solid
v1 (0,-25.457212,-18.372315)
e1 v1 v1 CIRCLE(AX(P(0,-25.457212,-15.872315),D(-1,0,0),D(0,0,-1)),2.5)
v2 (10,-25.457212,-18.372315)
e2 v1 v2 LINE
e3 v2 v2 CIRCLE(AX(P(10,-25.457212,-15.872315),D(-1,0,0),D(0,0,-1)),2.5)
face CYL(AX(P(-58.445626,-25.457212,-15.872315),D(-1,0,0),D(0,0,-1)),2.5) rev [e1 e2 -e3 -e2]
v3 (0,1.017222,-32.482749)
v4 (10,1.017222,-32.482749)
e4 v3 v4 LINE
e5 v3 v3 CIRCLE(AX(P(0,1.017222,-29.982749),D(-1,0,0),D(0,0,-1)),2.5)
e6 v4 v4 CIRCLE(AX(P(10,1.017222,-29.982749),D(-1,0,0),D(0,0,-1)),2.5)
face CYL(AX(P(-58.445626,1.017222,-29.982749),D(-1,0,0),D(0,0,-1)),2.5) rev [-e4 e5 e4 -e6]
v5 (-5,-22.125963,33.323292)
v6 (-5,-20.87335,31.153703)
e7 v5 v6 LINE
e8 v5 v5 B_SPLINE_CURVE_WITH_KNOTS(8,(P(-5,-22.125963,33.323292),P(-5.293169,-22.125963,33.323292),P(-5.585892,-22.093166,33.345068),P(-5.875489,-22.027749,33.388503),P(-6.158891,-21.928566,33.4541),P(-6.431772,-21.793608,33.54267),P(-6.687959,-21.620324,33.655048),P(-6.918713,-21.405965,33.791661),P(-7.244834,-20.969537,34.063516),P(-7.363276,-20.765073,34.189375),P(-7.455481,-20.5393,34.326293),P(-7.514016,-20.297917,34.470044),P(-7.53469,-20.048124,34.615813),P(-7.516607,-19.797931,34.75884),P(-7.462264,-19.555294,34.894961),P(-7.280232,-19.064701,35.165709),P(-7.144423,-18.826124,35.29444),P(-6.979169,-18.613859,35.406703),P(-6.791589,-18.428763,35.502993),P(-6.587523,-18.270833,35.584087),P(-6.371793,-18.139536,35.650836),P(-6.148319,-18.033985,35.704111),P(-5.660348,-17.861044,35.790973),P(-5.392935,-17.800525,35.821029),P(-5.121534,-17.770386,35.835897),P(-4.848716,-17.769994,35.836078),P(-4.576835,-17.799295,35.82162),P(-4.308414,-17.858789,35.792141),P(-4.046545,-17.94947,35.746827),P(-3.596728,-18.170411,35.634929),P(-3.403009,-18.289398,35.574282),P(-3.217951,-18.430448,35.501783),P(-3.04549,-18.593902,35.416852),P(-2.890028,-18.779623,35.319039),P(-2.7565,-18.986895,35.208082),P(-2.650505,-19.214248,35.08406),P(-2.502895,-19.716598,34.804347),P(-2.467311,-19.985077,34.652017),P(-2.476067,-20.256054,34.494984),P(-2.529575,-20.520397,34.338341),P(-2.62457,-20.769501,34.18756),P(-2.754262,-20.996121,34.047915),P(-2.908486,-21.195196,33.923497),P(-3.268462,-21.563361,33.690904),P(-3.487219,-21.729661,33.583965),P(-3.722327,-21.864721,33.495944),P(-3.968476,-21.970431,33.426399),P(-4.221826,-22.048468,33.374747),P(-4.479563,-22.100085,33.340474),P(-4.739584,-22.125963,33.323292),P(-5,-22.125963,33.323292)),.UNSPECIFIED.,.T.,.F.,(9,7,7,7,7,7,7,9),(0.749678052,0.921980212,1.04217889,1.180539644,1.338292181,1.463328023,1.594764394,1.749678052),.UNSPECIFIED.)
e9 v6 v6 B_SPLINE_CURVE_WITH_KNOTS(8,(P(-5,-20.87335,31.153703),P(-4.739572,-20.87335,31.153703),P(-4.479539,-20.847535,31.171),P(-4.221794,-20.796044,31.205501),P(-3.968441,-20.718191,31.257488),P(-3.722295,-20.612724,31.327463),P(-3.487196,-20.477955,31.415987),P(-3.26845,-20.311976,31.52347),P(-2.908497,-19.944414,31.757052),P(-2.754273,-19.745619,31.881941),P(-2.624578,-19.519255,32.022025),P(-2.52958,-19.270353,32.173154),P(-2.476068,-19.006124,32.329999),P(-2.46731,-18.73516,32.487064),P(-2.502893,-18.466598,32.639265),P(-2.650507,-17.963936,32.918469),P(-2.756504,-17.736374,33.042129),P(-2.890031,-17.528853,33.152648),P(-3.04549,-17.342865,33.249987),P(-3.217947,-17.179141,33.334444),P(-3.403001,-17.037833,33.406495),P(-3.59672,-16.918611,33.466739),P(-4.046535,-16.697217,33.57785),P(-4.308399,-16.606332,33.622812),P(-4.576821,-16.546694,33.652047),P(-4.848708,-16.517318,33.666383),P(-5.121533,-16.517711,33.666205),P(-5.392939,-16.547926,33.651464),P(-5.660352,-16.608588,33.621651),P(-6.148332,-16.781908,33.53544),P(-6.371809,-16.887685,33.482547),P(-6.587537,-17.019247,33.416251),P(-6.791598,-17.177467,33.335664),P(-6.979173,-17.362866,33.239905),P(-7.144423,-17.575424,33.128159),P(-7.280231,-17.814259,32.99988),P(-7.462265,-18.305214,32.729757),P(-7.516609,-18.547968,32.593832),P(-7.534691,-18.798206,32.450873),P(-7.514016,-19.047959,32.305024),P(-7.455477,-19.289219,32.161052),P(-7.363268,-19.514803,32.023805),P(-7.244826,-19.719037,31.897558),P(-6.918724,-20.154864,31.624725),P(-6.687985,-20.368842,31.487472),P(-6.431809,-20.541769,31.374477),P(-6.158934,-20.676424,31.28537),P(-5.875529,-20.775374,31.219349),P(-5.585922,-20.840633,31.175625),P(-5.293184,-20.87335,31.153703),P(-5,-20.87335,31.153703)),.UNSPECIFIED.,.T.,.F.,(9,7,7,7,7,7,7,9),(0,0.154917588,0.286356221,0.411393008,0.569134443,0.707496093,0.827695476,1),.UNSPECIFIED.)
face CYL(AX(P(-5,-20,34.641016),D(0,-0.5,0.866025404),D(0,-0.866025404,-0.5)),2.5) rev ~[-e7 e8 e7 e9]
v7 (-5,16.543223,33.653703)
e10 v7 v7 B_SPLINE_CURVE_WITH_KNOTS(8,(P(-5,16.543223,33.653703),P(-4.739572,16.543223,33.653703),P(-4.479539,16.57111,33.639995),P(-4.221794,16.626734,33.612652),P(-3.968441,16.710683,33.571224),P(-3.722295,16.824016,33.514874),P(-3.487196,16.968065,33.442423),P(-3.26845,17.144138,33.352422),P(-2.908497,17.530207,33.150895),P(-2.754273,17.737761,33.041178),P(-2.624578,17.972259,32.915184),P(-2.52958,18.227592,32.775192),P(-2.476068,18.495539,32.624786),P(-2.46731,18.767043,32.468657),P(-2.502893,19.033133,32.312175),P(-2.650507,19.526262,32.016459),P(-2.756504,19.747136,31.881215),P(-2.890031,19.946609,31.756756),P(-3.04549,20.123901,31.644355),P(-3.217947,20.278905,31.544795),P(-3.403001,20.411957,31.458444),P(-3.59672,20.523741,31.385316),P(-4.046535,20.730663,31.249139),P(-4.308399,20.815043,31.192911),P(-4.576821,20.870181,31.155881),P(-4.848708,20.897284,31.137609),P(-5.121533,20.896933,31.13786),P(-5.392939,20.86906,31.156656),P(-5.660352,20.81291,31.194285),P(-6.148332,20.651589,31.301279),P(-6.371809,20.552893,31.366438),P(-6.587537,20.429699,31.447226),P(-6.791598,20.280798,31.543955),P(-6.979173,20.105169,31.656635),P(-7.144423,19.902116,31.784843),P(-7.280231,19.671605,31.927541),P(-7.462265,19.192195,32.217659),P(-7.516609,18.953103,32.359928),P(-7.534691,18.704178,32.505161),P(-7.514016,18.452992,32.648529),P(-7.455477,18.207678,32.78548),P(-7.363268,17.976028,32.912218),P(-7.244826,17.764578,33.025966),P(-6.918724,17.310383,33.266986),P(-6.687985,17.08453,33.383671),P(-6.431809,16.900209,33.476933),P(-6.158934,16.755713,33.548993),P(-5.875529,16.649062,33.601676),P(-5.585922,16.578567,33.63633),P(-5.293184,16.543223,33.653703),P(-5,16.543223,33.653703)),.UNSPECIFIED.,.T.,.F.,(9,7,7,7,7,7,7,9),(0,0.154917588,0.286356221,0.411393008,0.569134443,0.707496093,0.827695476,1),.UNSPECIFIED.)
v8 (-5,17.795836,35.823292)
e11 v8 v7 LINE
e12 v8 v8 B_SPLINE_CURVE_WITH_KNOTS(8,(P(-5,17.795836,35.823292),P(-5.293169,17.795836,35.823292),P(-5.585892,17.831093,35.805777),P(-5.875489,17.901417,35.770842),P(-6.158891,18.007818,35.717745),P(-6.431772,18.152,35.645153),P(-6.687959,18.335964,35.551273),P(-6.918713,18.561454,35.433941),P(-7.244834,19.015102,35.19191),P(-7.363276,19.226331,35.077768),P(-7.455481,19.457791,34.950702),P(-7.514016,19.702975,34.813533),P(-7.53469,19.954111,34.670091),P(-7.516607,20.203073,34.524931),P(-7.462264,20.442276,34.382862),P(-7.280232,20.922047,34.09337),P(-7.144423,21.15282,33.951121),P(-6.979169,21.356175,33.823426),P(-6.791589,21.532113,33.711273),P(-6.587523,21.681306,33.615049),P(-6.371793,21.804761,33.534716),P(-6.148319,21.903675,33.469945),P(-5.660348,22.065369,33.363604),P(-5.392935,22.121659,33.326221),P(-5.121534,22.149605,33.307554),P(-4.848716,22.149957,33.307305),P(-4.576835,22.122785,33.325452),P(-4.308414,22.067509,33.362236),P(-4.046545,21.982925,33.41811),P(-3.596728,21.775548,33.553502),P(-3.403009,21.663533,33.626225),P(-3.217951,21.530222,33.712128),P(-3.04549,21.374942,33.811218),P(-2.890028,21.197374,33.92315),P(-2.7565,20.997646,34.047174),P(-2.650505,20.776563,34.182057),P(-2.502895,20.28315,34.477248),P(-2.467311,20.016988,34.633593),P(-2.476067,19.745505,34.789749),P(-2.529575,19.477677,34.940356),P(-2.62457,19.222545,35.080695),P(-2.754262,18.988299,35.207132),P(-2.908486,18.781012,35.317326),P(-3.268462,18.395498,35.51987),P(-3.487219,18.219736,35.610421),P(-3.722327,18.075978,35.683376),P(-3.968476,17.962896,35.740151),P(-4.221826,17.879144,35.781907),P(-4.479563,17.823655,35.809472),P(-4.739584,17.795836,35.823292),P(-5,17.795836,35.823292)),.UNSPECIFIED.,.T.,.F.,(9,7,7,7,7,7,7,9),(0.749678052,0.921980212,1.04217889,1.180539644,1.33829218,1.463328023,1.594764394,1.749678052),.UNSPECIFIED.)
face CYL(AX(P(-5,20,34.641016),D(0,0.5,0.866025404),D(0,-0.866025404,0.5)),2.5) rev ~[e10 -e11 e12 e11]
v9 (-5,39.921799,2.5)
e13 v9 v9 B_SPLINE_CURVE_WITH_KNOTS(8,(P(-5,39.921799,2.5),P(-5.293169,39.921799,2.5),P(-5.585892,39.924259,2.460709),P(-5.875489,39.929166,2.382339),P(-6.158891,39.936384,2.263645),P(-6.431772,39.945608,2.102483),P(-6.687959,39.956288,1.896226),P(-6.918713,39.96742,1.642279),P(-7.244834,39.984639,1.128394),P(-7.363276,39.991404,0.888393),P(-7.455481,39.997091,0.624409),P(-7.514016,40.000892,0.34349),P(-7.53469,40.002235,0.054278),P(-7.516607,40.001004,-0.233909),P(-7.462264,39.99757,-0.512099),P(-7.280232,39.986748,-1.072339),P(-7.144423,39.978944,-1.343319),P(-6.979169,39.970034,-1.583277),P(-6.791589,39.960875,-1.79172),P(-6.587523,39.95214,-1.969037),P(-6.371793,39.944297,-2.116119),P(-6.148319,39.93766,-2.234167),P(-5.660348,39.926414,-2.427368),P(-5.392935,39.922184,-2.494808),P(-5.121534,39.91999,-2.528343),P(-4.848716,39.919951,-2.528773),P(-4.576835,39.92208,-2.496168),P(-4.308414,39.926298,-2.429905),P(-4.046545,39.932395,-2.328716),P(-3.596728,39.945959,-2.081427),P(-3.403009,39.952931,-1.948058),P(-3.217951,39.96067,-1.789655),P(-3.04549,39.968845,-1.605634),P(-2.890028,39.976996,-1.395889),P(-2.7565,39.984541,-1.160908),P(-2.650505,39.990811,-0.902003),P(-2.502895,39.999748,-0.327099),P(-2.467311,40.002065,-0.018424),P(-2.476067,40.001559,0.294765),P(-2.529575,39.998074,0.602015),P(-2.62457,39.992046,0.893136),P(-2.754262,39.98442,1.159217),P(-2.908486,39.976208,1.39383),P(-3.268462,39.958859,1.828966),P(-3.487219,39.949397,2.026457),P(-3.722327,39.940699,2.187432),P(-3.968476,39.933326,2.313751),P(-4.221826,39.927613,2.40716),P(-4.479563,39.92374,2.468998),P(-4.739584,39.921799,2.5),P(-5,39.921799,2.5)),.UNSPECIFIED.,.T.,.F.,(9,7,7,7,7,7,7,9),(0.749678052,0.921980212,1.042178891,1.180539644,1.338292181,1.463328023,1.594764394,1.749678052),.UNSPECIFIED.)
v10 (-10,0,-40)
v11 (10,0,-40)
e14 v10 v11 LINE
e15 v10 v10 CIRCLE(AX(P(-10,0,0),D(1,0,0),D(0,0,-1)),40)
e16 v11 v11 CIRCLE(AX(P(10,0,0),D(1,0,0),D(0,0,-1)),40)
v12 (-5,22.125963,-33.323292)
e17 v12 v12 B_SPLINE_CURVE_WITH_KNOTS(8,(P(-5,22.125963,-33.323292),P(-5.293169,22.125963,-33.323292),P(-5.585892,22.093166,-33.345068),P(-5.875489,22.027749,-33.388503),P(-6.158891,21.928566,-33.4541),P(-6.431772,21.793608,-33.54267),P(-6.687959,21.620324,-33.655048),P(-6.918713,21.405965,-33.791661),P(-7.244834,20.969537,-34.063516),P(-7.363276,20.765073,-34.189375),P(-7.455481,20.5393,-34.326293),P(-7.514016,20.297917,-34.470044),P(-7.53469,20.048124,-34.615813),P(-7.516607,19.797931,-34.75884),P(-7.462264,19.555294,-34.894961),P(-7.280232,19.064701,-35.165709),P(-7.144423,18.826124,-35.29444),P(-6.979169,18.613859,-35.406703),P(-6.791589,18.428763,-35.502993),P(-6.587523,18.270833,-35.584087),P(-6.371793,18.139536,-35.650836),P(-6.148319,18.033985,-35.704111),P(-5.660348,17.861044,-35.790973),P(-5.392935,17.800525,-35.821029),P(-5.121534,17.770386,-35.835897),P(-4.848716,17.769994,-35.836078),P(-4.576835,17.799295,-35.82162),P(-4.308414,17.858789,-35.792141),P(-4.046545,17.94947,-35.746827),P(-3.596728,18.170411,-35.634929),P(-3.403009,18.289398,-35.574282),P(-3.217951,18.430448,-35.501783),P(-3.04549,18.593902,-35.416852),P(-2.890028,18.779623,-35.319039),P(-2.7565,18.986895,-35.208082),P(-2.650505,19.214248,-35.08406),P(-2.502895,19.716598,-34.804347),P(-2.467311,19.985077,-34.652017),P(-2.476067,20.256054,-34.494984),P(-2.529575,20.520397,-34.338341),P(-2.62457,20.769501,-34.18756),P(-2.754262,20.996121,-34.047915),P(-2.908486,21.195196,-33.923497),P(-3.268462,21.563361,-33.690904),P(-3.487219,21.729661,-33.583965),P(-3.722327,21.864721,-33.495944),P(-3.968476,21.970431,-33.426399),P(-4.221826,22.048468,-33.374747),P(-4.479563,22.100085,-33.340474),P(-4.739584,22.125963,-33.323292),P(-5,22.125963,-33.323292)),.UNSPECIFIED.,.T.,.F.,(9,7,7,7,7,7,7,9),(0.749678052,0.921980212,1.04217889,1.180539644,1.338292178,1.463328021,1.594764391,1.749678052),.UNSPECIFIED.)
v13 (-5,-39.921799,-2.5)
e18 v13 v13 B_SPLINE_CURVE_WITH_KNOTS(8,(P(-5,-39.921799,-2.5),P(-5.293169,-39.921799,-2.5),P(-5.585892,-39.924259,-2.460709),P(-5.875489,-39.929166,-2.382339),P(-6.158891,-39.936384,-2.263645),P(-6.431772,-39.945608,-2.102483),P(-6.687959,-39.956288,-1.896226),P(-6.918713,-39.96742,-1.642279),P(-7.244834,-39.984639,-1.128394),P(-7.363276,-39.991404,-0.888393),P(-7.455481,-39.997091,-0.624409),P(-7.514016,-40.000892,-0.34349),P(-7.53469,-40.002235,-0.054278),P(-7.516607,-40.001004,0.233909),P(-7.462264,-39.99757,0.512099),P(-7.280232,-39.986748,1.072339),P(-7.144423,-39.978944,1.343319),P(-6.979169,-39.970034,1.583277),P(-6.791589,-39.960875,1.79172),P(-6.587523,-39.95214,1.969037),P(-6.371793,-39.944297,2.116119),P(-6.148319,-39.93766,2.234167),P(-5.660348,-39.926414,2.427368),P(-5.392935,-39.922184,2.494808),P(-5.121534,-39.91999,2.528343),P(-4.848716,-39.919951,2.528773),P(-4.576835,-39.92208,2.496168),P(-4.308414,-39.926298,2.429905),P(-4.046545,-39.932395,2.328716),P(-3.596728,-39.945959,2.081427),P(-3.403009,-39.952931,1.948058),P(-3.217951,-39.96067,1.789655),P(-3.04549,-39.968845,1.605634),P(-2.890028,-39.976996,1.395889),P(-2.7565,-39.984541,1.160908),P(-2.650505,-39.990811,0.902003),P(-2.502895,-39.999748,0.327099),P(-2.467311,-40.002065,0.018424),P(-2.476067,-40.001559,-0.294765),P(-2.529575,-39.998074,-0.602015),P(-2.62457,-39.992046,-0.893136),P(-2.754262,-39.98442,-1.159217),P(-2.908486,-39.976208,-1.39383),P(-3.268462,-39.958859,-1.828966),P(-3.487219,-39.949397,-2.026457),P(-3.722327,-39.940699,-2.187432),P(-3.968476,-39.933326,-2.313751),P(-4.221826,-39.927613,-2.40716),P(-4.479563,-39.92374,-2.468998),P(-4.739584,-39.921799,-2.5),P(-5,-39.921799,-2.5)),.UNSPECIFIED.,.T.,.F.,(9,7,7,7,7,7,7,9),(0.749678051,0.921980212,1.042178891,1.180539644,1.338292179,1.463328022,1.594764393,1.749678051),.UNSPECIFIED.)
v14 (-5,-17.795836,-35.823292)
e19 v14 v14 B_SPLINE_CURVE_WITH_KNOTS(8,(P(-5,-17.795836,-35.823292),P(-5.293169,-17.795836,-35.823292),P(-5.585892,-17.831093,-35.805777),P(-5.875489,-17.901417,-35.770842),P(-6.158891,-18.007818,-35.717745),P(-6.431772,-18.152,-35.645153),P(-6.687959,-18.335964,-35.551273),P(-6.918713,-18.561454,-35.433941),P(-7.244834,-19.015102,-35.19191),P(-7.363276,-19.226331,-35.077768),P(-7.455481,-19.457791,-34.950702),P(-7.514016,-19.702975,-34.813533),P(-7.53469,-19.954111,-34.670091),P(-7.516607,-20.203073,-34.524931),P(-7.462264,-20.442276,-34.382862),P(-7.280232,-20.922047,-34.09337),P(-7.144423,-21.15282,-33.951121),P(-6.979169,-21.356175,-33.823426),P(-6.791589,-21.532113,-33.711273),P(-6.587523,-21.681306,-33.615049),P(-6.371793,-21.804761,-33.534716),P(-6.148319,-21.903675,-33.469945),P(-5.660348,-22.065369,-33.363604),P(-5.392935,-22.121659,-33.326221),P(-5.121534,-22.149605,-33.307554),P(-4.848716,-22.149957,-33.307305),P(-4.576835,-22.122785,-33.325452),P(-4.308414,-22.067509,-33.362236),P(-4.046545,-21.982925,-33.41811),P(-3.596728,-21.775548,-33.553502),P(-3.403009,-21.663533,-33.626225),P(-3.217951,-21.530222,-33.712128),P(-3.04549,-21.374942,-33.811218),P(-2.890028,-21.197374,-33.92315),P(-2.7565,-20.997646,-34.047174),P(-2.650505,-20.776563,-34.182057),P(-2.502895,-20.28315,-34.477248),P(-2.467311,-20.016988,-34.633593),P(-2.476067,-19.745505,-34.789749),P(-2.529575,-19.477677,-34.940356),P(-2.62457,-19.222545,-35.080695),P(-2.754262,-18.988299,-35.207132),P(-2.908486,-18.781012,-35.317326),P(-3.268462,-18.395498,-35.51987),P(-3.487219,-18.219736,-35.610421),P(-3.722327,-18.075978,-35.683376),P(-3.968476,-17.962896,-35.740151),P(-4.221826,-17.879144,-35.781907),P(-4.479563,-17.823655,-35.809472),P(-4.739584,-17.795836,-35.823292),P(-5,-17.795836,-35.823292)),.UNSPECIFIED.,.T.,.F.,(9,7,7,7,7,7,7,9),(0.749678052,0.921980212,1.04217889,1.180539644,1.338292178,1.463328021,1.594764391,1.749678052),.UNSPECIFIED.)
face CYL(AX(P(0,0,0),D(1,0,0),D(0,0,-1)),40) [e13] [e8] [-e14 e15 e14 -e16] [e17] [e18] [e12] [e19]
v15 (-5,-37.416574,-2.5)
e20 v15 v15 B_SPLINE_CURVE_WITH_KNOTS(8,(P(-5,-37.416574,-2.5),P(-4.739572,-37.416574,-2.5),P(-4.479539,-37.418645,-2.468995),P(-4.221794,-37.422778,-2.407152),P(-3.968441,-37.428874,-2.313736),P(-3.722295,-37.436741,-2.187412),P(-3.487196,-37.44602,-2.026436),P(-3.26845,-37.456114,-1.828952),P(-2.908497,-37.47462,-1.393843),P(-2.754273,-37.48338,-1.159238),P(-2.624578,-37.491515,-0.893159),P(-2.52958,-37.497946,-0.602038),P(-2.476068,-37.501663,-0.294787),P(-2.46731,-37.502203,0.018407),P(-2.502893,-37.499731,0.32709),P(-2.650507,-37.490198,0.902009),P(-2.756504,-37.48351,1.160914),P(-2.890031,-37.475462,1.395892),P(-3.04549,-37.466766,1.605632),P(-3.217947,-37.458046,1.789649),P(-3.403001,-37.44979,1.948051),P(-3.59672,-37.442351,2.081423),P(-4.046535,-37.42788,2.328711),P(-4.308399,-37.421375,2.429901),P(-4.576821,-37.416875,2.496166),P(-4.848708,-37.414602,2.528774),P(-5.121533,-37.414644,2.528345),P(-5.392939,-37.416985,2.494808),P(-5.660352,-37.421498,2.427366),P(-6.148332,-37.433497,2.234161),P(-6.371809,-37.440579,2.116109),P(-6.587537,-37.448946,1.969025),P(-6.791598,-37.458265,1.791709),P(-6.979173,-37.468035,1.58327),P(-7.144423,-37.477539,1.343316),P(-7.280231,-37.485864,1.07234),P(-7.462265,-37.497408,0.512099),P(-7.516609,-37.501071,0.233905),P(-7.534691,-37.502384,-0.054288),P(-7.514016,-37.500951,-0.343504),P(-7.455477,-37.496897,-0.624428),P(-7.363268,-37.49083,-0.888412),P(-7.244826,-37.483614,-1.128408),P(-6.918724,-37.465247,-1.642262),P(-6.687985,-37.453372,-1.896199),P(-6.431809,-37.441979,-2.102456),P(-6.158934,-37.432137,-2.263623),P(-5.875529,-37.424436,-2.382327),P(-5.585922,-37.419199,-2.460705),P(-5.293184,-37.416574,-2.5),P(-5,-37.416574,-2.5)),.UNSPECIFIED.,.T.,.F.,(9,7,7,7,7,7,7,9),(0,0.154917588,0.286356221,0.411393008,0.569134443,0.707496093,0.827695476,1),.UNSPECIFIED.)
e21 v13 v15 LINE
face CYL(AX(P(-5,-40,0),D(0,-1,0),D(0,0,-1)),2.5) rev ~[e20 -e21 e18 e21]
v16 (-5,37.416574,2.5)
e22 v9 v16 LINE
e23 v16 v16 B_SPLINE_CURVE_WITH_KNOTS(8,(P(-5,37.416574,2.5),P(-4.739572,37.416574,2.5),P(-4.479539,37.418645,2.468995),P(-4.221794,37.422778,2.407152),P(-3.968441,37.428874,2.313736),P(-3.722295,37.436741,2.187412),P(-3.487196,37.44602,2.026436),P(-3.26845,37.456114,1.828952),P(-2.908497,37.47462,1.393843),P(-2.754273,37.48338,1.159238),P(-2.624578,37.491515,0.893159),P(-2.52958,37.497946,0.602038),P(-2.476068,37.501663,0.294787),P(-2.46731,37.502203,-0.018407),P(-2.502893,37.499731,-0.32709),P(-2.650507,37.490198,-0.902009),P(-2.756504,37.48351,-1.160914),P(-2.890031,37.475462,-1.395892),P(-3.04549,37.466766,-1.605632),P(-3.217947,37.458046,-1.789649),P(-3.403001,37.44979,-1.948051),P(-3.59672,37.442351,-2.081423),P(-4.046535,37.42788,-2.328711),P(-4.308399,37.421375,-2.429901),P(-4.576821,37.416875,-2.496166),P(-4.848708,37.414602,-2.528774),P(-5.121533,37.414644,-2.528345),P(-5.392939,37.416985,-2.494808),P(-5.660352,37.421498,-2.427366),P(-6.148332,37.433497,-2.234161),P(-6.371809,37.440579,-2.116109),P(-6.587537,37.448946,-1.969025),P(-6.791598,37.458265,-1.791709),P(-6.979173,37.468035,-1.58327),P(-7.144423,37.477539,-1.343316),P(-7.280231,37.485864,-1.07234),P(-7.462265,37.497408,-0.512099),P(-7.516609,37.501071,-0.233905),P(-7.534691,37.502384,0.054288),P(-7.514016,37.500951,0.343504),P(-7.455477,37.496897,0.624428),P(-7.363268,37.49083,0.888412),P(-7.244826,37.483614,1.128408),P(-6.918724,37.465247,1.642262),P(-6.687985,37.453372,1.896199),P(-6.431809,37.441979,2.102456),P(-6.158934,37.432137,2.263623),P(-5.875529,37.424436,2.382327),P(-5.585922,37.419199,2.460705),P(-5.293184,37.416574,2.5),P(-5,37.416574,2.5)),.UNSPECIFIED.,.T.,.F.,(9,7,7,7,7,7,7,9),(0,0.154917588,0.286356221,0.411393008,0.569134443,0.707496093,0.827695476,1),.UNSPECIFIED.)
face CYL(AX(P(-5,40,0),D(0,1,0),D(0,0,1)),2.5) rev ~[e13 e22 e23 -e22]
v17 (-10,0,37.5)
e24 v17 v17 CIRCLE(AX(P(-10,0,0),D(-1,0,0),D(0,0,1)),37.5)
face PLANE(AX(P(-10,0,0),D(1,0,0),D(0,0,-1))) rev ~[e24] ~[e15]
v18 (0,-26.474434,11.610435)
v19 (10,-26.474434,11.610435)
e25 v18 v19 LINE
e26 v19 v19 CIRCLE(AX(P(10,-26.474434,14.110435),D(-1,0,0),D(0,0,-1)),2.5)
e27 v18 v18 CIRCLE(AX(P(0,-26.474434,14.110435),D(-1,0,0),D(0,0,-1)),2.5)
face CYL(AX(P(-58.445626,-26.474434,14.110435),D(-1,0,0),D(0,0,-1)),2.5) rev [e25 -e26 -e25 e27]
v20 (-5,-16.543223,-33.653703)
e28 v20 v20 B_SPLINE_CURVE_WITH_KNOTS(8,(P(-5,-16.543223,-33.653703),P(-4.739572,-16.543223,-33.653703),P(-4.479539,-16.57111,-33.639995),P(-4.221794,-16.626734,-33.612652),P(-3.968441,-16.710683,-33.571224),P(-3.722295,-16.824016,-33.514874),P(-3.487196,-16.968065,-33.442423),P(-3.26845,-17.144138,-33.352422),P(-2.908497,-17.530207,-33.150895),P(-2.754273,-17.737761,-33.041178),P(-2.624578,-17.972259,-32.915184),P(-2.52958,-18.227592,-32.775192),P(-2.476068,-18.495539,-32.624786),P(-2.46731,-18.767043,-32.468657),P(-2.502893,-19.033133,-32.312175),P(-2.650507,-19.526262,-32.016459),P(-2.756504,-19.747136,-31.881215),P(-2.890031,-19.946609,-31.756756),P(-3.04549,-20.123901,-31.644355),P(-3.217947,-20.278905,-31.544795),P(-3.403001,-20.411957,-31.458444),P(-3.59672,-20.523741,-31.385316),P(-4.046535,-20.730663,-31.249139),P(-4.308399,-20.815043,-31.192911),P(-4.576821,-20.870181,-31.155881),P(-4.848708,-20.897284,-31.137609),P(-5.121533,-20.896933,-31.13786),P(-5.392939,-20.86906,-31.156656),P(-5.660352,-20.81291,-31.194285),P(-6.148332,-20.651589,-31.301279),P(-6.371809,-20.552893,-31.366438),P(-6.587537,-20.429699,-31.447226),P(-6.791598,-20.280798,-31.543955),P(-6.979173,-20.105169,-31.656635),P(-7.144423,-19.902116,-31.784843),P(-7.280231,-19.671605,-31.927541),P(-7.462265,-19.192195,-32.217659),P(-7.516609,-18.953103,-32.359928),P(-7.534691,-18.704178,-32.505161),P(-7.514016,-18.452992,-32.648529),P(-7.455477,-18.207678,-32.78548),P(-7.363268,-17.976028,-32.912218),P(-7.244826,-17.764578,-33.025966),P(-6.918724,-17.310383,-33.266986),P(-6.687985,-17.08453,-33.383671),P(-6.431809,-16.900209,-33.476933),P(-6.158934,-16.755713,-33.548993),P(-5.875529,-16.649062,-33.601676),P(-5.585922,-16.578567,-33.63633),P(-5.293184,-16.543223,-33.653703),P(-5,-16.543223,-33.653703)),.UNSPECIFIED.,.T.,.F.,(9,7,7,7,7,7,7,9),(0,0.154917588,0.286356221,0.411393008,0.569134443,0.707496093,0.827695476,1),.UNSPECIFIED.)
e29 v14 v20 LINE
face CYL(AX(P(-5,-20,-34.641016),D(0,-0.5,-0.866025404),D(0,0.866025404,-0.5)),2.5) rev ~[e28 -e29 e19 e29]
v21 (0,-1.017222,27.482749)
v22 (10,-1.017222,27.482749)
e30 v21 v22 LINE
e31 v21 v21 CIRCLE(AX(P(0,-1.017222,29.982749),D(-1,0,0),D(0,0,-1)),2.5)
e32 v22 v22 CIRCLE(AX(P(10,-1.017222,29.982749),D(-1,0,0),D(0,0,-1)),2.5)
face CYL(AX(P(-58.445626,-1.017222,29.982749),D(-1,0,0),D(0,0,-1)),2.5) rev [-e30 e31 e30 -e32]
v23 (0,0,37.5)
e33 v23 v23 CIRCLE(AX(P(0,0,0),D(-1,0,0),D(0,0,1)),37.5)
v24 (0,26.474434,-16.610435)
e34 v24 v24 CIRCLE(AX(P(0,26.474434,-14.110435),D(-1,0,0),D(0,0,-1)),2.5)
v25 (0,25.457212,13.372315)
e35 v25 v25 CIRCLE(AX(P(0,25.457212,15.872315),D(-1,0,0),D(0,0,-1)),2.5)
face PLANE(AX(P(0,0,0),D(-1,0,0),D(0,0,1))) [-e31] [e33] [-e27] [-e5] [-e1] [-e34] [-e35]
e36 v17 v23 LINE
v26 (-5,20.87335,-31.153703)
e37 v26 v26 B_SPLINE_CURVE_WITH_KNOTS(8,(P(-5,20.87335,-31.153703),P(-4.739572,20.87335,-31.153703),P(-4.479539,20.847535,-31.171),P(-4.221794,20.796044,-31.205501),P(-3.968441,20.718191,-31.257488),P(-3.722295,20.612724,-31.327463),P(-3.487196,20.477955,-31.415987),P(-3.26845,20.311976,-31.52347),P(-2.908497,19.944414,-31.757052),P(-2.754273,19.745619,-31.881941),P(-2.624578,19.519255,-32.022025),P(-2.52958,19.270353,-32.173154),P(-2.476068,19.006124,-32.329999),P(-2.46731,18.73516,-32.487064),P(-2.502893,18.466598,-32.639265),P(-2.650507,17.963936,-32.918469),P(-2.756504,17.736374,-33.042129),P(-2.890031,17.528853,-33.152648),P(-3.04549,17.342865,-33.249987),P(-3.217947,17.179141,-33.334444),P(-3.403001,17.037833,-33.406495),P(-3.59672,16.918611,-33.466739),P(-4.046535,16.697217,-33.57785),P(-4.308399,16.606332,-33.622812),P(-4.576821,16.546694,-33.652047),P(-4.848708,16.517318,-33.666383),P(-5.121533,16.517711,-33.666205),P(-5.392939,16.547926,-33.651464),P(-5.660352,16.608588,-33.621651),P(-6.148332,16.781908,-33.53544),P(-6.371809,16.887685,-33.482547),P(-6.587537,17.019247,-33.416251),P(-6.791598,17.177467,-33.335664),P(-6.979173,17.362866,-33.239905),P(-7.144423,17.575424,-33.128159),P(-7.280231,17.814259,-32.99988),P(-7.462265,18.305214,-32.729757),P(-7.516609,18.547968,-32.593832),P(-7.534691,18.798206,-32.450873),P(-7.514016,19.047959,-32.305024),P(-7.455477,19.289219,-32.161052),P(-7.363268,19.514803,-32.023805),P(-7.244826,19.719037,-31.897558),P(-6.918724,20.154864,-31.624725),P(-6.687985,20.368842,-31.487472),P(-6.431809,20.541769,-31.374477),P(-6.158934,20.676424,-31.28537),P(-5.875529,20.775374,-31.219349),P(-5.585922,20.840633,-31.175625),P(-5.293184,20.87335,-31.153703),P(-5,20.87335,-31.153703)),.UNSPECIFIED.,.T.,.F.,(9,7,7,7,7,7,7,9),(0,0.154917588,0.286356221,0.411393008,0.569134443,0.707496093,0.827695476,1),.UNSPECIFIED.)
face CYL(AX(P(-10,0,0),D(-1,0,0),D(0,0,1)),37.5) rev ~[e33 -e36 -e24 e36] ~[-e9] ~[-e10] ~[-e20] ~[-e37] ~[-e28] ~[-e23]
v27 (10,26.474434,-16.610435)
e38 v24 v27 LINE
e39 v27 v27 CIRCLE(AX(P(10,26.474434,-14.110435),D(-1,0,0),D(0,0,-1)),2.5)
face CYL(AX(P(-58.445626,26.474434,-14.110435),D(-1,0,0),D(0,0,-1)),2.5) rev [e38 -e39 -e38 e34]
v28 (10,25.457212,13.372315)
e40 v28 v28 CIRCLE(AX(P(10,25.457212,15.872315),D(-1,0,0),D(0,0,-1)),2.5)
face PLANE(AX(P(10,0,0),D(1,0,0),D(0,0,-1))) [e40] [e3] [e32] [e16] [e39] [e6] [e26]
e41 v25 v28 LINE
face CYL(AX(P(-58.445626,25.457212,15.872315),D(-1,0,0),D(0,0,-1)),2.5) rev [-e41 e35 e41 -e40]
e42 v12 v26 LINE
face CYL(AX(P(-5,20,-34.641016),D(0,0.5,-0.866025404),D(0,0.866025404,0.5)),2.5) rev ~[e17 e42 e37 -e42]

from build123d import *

# Parameters (mm, degrees)
SKETCH1_R               = 40
BOSS_EXTRUDE2_DEPTH     = 10
CUT_EXTRUDE1_DEPTH      = 58.445626465
CUT_EXTRUDE1_DEPTH_BACK = 58.445626465
SKETCH2_R               = 2.5
SKETCH3_R               = 37.5
CUT_EXTRUDE2_DEPTH      = 10
CUT_EXTRUDE3_REACH      = 92
CUT_EXTRUDE3_END_RADIUS = 37.5
SKETCH4_R               = 2.5
CIRPATTERN1_COUNT       = 6


with BuildPart() as part:
    # Sketch1 → Boss-Extrude2 (new, symmetric)
    with BuildSketch(Plane(origin=(0, 0, 0), x_dir=(0, 0, -1), z_dir=(1, 0, 0))):
        Circle(SKETCH1_R)
    extrude(amount=BOSS_EXTRUDE2_DEPTH, both=True)

    # Sketch2 → Cut-Extrude1 (cut, two sides: drawn at the far end of the back side and taken through both)
    with BuildSketch(Plane(origin=(0, 0, 0), x_dir=(0, 0, -1), z_dir=(1, 0, 0)).offset(-CUT_EXTRUDE1_DEPTH_BACK)):
        with Locations((14.110434629, 26.474433602)):
            Circle(SKETCH2_R)
        with Locations((29.982749365, 1.017221954)):
            Circle(SKETCH2_R)
        with Locations((15.872314736, -25.457211649)):
            Circle(SKETCH2_R)
        with Locations((-14.110434629, -26.474433602)):
            Circle(SKETCH2_R)
        with Locations((-29.982749365, -1.017221954)):
            Circle(SKETCH2_R)
        with Locations((-15.872314736, 25.457211649)):
            Circle(SKETCH2_R)
    extrude(amount=CUT_EXTRUDE1_DEPTH + CUT_EXTRUDE1_DEPTH_BACK, mode=Mode.SUBTRACT)

    # Sketch3 → Cut-Extrude2 (cut)
    with BuildSketch(Plane.ZY.offset(10)):
        Circle(SKETCH3_R)
    extrude(amount=-CUT_EXTRUDE2_DEPTH, mode=Mode.SUBTRACT)

    # Cut-Extrude3: up to this cylinder (the profile starts outside it)
    cut_extrude3_end = Plane(origin=(-5, 0, 0), z_dir=(-1, 0, 0)) * Cylinder(CUT_EXTRUDE3_END_RADIUS, 260, mode=Mode.PRIVATE)
    # Sketch4 → Cut-Extrude3 (cut, up to the surface)
    with BuildSketch(Plane(origin=(0, 40, 0), x_dir=(1, 0, 0), z_dir=(0, 1, 0)), mode=Mode.PRIVATE) as cut_extrude3_sk1:
        with Locations(Location((-5, 0, 0), (0, 0, 270))):
            Circle(SKETCH4_R)
    cut_extrude3_tool1 = extrude(cut_extrude3_sk1.sketch, amount=-CUT_EXTRUDE3_REACH, mode=Mode.PRIVATE) - cut_extrude3_end
    cut_extrude3 = cut_extrude3_tool1.solids().sort_by_distance((-5, 40, 0))[0]
    add(cut_extrude3, mode=Mode.SUBTRACT)

    # CirPattern1: Cut-Extrude3 ×6 about axis
    cirpattern1_axis = Axis((-10, 0, 0), (1, 0, 0))
    for i in range(1, CIRPATTERN1_COUNT):
        add(cut_extrude3.rotate(cirpattern1_axis, i * 360 / CIRPATTERN1_COUNT), mode=Mode.SUBTRACT)


solid = part.part
